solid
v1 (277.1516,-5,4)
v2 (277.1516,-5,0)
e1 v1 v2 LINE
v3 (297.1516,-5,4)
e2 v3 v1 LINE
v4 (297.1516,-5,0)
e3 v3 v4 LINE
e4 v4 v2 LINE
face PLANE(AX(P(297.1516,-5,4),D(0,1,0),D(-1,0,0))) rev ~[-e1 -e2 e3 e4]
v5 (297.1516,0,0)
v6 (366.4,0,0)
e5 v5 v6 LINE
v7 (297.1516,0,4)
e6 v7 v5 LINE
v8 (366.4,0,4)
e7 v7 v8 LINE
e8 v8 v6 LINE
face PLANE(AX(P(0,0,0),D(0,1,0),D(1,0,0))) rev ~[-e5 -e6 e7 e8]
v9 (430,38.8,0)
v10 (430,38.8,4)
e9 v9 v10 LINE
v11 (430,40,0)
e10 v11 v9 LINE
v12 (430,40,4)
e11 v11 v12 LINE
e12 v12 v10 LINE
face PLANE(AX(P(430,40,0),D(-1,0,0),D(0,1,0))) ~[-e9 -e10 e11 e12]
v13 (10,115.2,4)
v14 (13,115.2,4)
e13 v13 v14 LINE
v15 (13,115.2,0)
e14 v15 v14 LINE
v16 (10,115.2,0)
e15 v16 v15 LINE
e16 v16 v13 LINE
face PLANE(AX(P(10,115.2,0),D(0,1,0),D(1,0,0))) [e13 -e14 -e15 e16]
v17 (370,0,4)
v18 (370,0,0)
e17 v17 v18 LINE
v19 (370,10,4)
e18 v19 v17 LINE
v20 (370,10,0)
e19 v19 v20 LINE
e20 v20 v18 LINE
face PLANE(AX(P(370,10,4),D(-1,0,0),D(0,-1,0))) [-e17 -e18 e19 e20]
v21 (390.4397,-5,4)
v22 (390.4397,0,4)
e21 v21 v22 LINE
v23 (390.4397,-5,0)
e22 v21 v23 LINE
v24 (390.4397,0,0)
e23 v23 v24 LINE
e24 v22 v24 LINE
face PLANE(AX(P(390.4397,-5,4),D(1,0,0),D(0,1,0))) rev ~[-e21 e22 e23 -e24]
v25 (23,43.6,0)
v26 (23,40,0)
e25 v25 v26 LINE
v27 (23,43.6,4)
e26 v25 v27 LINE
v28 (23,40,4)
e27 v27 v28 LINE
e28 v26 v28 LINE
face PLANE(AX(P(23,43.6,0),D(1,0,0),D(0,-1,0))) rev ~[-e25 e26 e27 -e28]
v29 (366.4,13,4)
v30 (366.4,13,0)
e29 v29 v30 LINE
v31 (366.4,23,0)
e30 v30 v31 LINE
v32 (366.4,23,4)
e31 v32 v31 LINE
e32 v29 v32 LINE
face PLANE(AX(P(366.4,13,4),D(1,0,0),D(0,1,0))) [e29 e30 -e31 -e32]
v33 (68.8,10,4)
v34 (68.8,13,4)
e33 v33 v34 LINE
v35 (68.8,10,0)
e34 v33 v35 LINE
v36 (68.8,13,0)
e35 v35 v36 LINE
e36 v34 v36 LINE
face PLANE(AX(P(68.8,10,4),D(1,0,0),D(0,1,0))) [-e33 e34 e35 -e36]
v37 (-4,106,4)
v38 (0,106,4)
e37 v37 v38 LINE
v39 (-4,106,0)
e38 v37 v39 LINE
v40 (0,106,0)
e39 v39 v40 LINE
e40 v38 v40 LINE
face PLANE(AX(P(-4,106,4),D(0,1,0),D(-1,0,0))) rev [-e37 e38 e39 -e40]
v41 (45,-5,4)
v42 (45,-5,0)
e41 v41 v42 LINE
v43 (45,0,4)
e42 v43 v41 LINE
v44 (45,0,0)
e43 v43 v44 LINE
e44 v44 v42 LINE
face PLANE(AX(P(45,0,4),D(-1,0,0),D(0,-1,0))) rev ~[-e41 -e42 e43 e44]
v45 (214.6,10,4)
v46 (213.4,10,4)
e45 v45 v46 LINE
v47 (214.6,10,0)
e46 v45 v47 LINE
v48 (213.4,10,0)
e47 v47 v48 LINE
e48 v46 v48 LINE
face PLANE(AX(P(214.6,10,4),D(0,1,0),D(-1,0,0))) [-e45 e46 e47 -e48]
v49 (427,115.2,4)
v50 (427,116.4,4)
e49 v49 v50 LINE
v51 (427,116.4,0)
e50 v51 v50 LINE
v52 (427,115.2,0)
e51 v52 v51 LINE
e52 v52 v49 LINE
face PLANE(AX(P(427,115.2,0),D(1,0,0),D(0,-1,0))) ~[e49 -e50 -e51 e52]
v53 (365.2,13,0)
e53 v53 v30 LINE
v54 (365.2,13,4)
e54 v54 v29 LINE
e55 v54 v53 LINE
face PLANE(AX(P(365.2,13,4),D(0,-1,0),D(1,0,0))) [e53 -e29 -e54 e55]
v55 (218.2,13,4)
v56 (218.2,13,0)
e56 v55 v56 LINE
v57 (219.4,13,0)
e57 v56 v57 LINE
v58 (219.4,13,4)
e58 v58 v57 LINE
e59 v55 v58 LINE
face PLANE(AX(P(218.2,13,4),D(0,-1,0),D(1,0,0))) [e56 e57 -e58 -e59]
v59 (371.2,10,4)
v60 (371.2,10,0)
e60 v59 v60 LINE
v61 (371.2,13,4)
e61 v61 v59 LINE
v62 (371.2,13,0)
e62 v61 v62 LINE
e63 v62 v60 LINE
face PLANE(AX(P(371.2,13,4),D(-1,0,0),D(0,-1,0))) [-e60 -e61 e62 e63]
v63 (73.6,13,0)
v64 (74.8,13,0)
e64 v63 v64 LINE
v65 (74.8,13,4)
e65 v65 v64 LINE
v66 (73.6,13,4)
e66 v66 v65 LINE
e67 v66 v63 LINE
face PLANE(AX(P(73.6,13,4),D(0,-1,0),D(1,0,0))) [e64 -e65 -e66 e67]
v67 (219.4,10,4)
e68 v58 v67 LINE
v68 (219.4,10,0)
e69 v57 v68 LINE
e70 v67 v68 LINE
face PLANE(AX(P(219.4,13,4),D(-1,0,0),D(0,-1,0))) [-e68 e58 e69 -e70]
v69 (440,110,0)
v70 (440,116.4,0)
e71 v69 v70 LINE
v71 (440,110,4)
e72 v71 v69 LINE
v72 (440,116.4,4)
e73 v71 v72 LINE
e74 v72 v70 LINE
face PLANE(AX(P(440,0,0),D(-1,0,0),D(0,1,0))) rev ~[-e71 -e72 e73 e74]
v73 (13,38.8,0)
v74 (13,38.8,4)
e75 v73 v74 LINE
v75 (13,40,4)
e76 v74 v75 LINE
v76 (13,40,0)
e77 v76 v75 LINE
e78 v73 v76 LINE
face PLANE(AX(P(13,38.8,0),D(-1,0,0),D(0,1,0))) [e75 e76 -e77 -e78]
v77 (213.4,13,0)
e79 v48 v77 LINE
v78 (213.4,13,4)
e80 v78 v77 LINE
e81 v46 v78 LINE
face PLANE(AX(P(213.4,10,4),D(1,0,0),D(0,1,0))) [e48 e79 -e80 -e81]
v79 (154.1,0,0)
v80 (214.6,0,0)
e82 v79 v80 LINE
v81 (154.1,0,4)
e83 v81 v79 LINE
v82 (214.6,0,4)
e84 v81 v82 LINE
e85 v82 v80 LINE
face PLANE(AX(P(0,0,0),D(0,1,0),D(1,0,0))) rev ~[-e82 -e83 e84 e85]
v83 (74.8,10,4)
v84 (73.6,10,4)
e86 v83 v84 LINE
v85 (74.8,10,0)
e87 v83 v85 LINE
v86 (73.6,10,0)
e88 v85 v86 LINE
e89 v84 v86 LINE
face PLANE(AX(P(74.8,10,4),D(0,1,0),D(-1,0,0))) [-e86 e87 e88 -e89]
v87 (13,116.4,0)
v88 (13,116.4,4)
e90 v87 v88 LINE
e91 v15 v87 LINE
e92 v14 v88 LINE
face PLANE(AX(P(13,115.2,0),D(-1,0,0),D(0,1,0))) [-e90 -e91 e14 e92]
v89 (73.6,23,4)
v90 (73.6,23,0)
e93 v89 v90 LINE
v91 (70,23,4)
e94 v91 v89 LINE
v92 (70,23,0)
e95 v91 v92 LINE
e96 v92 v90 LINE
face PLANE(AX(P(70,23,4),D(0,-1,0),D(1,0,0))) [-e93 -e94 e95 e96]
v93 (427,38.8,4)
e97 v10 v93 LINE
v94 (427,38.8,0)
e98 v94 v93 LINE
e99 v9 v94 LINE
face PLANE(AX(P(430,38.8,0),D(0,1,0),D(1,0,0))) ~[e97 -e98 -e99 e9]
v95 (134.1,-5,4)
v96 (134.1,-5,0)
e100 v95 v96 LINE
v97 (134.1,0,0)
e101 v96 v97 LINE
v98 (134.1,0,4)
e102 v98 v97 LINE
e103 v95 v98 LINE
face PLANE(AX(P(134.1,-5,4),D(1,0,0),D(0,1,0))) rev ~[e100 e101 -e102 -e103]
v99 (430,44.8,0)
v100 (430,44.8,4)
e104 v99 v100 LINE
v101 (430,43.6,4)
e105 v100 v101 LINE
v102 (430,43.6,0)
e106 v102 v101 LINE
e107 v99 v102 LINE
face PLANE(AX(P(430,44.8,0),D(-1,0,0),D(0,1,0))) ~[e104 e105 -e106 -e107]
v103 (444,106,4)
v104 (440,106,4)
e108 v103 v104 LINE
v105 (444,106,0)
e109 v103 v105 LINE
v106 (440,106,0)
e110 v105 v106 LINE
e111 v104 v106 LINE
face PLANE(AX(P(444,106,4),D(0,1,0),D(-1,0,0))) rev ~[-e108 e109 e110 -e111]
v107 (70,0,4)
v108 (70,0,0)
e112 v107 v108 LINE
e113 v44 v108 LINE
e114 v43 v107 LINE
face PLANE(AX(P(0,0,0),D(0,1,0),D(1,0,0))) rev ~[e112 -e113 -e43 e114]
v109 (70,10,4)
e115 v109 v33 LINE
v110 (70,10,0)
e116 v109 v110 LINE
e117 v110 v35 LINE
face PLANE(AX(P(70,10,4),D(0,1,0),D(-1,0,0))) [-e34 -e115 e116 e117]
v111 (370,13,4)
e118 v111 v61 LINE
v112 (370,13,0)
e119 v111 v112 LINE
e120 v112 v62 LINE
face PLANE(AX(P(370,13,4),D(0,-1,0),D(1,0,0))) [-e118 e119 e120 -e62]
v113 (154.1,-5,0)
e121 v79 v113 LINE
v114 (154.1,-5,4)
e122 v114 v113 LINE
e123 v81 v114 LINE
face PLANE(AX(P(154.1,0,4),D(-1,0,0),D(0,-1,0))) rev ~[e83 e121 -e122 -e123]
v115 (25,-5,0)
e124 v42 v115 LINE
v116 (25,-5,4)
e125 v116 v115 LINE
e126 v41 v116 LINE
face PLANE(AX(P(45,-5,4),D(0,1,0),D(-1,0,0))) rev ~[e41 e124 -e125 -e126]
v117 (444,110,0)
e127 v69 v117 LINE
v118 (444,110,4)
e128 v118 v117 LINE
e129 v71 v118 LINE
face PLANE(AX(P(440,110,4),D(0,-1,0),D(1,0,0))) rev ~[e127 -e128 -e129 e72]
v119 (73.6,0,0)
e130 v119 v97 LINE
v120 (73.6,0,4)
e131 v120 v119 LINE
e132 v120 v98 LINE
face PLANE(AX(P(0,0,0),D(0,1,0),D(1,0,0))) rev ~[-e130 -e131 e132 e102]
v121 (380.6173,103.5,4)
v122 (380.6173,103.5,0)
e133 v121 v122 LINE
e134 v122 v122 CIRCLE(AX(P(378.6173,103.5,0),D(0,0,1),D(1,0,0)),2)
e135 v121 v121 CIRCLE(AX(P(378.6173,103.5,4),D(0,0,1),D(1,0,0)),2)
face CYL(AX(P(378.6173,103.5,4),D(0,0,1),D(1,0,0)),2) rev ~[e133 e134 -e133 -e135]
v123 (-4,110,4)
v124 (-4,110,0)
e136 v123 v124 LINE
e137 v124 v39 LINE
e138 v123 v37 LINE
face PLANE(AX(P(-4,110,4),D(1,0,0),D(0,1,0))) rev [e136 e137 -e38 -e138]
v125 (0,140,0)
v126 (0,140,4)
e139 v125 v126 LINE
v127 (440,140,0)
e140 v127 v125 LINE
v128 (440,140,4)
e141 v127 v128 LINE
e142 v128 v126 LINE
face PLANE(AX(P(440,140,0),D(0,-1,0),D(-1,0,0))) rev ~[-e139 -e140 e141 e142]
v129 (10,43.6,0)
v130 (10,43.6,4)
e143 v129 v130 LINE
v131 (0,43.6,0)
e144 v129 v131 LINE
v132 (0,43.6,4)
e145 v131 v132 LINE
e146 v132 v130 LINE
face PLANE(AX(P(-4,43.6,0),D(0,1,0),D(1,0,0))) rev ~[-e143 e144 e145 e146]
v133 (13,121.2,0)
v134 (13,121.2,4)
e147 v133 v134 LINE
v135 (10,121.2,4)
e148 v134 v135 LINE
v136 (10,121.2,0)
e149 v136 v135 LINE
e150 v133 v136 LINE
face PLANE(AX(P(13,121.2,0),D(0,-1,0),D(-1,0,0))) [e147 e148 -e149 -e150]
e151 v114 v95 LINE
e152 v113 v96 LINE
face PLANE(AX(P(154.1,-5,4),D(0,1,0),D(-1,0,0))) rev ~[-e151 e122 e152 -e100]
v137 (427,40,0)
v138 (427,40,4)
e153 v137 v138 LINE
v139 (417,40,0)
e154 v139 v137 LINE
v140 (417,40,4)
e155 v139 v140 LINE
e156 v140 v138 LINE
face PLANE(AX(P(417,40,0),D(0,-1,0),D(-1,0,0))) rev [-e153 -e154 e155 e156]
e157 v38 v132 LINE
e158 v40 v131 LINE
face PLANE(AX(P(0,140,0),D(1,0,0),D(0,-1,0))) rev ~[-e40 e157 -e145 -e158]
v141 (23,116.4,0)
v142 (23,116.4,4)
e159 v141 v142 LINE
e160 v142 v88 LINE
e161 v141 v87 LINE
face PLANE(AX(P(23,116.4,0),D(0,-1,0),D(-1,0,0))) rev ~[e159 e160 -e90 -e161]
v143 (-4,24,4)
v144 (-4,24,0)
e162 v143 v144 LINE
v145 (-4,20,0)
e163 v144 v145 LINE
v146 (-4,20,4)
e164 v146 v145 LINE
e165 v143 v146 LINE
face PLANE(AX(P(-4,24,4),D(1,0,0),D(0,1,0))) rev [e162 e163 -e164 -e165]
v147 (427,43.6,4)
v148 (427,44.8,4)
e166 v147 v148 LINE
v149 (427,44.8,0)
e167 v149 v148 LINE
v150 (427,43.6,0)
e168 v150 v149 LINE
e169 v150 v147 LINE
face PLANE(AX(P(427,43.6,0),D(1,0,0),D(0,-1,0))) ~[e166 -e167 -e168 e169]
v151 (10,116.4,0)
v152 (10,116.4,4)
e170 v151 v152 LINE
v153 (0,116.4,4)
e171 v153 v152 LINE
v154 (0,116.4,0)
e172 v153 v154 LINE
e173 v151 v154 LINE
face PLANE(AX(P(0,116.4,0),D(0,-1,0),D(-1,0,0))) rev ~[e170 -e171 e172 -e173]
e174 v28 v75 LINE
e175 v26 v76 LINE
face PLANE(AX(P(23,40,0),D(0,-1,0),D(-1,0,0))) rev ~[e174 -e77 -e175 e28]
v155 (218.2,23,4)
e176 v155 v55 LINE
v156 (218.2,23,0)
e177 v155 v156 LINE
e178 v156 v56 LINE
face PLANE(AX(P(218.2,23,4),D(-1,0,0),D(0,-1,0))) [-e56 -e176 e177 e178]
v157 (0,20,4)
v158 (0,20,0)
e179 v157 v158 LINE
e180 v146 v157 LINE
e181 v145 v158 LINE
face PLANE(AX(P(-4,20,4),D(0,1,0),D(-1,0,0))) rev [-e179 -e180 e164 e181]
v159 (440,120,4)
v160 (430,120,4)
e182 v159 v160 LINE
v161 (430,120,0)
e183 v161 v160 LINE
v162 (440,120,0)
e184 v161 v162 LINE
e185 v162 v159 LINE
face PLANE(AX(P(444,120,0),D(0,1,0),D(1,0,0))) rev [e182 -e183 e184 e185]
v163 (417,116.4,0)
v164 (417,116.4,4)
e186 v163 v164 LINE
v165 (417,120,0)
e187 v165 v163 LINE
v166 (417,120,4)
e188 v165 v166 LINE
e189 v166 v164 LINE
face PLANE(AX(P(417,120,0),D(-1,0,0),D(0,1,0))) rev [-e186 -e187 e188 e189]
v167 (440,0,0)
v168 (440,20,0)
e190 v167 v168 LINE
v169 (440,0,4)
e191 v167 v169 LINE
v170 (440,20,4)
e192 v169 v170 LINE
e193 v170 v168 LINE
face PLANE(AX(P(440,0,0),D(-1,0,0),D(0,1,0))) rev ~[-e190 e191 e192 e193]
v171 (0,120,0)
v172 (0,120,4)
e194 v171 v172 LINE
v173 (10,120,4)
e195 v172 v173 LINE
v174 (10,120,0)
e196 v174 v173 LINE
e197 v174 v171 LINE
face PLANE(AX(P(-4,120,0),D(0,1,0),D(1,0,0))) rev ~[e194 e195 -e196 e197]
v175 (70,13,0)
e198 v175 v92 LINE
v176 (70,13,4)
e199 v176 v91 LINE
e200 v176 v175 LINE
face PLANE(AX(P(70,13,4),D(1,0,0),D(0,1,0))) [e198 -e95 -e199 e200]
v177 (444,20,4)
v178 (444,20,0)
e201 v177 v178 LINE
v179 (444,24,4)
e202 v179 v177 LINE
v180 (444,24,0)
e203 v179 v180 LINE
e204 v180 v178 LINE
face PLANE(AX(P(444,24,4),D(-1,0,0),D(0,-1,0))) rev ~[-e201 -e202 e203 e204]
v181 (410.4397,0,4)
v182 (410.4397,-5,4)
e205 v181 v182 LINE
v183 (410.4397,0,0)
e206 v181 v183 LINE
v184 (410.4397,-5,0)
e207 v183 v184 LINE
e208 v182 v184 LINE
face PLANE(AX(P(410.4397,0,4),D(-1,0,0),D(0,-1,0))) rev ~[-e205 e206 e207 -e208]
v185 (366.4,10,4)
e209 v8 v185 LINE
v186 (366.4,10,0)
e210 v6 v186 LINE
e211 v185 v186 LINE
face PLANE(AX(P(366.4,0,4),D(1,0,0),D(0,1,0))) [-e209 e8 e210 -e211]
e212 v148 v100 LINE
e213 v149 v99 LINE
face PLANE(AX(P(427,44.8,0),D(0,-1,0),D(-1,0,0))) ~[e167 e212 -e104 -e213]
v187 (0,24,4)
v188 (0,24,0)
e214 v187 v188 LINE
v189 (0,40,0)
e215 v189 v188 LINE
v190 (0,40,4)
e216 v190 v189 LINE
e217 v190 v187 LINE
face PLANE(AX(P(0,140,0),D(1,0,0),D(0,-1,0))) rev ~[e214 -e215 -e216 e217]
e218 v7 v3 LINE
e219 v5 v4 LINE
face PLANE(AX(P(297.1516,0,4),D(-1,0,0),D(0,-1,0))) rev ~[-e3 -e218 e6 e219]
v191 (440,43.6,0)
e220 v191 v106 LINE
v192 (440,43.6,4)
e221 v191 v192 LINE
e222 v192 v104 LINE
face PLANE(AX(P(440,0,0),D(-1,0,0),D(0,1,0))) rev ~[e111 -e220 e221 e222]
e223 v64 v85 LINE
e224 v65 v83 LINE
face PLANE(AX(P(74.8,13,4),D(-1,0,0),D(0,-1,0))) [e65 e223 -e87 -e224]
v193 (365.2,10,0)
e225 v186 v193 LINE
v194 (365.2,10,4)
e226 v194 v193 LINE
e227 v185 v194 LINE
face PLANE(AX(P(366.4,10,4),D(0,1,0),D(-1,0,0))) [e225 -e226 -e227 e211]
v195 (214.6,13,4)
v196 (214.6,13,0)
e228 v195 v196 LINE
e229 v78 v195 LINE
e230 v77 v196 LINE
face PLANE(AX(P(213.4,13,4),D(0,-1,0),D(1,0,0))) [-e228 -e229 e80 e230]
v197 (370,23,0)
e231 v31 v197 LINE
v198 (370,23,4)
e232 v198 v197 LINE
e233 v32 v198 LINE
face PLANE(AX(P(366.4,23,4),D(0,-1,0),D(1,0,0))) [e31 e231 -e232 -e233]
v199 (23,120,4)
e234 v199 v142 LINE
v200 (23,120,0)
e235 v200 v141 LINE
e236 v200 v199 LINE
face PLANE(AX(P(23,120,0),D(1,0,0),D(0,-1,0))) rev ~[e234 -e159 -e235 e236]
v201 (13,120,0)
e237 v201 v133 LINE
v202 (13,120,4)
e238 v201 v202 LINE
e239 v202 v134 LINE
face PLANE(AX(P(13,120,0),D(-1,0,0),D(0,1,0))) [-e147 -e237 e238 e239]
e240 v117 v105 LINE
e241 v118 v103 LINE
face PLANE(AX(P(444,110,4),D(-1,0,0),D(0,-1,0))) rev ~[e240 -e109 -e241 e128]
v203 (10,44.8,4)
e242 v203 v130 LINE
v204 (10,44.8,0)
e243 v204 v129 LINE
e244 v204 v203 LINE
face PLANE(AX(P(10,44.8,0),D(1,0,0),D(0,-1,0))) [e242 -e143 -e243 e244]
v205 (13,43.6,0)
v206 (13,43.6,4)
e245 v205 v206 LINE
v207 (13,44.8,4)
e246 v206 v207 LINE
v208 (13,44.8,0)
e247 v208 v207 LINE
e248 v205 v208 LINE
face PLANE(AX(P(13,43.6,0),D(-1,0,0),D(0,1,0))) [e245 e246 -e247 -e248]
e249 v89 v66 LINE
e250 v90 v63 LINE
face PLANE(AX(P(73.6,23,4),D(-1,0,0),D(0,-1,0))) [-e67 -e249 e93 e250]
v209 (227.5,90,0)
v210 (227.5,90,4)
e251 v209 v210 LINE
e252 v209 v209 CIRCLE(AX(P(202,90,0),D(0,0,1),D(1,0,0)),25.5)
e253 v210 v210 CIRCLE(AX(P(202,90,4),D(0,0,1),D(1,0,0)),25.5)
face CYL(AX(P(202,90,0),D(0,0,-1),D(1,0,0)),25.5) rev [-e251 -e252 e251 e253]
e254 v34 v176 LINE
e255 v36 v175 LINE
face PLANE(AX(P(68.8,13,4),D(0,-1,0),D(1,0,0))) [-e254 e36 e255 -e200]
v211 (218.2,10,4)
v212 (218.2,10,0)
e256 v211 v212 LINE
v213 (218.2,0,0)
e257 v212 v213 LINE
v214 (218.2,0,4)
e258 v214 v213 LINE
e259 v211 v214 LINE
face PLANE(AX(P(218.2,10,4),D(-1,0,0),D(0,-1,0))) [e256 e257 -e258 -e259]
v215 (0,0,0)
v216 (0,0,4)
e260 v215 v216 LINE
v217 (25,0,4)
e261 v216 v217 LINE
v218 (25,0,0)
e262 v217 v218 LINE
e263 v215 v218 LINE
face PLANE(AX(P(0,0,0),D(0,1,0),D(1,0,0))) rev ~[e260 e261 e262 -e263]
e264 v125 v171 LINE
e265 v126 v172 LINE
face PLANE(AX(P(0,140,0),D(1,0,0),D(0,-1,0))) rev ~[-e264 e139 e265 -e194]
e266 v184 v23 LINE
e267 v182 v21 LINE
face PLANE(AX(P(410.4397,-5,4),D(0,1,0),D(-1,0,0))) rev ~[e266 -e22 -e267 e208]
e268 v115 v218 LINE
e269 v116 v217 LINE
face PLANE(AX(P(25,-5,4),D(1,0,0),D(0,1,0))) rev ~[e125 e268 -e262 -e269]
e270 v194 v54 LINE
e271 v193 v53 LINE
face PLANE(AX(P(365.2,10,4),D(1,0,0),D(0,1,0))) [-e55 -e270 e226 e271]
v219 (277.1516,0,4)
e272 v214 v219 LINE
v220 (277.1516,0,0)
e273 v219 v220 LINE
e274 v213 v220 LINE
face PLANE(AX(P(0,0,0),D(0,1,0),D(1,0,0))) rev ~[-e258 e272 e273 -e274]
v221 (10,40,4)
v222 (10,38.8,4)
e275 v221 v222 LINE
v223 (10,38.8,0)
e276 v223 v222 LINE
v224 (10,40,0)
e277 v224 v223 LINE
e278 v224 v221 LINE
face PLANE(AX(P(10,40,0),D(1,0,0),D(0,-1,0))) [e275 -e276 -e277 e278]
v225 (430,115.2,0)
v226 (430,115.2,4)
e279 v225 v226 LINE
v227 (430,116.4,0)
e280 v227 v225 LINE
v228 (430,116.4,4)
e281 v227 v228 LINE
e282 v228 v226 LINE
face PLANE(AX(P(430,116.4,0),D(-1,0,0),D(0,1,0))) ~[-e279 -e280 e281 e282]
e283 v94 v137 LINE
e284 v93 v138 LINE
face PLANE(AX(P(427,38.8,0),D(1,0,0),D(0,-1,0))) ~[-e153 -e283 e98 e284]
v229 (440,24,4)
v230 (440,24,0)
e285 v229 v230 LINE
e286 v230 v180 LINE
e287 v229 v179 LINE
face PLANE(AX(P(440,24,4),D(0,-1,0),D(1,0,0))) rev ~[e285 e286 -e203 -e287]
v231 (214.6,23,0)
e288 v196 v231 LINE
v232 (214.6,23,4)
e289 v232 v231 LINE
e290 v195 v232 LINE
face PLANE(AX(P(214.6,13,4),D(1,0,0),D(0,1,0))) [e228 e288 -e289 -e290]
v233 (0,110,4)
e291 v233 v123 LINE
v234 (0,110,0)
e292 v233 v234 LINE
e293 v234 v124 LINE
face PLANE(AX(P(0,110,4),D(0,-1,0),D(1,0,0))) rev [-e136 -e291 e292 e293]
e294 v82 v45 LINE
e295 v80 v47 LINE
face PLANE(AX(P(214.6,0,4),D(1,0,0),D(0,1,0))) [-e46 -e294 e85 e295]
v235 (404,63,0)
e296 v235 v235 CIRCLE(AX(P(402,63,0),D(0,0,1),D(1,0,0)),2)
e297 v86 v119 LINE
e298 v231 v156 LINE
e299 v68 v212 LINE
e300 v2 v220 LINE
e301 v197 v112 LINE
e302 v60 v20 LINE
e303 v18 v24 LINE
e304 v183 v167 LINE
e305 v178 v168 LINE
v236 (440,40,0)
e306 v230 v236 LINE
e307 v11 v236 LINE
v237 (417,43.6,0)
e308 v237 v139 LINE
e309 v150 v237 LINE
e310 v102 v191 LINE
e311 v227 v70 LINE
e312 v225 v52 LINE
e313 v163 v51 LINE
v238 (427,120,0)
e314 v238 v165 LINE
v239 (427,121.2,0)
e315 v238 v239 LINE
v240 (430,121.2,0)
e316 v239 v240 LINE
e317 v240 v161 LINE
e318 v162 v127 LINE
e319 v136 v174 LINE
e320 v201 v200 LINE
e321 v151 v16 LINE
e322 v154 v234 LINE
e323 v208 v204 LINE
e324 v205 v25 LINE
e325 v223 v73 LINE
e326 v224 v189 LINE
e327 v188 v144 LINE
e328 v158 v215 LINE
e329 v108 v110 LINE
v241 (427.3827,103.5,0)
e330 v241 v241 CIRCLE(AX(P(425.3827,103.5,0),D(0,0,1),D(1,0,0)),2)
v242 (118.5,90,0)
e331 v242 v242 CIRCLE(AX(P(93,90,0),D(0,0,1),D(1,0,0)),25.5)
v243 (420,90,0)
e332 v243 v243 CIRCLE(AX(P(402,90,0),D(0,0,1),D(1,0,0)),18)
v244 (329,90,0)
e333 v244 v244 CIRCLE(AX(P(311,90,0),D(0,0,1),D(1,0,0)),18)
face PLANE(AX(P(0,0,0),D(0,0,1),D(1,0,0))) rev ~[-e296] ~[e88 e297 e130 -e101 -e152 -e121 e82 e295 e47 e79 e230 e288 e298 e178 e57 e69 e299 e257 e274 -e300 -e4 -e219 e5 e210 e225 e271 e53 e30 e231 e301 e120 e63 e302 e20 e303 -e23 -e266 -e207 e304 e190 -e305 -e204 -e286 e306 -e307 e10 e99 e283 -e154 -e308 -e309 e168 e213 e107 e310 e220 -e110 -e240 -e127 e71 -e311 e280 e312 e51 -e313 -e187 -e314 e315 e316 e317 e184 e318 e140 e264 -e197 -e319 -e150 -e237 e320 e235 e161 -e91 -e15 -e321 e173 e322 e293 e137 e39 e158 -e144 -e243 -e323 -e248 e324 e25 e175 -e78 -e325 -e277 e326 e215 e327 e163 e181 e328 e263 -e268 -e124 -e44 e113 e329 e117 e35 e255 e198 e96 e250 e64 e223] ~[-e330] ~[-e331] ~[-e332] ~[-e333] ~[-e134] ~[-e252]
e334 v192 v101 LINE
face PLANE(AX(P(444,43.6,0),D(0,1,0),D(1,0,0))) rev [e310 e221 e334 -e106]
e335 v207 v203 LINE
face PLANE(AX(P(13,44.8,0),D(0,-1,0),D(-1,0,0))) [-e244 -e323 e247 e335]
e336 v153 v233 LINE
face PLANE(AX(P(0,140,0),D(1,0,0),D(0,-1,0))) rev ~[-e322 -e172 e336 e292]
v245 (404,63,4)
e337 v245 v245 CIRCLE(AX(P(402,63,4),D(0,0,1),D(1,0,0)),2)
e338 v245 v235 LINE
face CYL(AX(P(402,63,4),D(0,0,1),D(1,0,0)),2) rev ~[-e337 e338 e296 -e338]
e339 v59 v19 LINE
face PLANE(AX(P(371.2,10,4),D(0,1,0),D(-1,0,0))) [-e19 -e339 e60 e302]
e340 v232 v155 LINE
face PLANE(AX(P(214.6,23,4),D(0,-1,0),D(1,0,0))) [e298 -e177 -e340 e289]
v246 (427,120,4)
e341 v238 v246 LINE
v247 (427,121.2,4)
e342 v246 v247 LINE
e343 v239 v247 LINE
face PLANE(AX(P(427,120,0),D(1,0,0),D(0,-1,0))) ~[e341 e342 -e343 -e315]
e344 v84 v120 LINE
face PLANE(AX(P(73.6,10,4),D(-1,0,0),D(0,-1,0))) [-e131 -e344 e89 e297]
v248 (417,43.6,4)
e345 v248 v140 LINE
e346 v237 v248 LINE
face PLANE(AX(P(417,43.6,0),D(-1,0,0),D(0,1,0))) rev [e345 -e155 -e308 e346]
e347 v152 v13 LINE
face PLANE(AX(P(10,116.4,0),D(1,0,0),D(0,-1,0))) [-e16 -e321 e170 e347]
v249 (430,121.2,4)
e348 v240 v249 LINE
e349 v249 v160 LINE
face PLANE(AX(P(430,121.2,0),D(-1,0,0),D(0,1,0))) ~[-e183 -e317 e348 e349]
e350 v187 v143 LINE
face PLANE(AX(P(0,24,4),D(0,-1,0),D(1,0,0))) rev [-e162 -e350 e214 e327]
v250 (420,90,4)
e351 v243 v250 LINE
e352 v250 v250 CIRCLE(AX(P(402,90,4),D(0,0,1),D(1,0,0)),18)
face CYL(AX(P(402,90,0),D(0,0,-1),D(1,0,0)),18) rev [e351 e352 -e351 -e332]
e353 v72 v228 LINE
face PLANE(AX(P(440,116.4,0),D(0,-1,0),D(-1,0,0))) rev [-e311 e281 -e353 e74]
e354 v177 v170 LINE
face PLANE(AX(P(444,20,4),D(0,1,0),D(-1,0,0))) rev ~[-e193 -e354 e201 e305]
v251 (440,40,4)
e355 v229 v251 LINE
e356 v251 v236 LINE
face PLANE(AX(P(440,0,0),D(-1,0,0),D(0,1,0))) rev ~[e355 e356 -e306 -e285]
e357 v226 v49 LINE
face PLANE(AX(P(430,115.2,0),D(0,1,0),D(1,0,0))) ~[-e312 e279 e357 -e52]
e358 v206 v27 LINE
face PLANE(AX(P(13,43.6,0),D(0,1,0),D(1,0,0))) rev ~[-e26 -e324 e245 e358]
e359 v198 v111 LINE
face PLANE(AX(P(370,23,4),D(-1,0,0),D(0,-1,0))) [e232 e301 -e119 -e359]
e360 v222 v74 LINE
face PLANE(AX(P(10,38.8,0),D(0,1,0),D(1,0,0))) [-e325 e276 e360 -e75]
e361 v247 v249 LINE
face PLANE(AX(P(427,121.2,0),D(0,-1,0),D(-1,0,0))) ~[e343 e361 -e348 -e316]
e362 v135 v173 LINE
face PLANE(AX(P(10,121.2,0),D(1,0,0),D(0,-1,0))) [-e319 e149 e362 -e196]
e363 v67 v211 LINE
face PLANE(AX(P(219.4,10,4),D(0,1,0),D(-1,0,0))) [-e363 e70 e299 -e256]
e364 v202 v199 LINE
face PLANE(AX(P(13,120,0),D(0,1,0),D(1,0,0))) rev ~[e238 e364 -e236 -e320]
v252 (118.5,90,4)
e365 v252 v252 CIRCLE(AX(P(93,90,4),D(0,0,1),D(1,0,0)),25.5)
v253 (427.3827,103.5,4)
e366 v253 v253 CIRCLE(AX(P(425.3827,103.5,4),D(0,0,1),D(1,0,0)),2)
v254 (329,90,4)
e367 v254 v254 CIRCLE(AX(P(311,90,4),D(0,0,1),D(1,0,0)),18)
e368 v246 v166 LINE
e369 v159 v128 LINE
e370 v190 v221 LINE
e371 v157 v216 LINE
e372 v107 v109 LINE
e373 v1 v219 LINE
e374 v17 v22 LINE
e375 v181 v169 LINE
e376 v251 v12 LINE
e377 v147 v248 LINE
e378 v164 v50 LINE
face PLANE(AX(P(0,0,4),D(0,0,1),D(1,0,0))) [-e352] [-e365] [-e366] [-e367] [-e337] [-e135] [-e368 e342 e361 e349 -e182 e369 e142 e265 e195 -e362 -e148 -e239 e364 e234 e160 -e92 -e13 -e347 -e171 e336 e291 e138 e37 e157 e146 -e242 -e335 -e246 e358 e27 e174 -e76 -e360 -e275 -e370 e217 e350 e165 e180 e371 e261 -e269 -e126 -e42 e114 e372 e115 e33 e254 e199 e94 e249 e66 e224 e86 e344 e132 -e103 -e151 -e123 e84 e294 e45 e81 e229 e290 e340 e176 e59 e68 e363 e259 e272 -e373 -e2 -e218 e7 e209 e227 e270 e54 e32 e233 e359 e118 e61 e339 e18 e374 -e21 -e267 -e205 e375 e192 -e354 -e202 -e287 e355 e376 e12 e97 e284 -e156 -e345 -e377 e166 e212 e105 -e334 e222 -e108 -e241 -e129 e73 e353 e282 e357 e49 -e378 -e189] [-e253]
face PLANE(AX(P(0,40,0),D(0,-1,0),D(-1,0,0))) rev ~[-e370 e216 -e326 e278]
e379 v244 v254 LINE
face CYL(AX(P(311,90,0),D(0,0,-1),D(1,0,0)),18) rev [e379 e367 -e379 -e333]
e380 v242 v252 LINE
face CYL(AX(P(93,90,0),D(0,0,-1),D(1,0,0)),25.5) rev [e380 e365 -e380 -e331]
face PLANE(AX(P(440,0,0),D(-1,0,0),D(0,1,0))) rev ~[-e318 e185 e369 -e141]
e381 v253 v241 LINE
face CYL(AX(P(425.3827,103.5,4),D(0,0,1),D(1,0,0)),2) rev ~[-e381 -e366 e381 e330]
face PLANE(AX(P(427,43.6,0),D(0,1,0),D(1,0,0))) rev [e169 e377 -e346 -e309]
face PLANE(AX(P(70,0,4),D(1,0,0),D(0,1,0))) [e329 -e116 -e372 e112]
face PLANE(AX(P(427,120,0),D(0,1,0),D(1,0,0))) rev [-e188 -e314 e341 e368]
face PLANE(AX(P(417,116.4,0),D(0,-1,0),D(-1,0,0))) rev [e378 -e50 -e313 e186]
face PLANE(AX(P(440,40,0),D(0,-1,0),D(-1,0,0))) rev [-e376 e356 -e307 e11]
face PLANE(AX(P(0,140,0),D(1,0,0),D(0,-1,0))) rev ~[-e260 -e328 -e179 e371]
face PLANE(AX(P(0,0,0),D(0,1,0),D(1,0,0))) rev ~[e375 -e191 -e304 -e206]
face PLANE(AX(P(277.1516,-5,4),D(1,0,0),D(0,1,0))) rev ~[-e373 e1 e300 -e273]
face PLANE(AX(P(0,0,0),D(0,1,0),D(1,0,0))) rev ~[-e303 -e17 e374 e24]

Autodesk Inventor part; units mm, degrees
sketch "Sketch1" plane through (0, 0, 0) normal (0, 0, 1) x (1, 0, 0)
  line L0 (440, 140) -> (0, 140)
  line L1 (0, 140) -> (0, 0)
  line L2 (0, 0) -> (440, 0)
  line L3 (440, 0) -> (440, 140)
  circle A0 centre (402, 90) radius 18
  circle A1 centre (311, 90) radius 18
  circle A2 centre (202, 90) radius 25.5
  circle A3 centre (93, 90) radius 25.5
  point P0 (0, 0)
extrude "Extrusion1" add sketch "Sketch1" along normal blind 4
sketch "Sketch2" plane through (0, 0, 0) normal (0, 0, -1) x (-1, 0, 0)
  circle A0 centre (-93, 90) radius 25.5 projected
  circle A1 centre (-202, 90) radius 25.5 projected
  circle A2 centre (-311, 90) radius 18 projected
  circle A3 centre (-402, 90) radius 18 projected
  line L0 (-440, 140) -> (0, 140) projected
  line L1 (0, 140) -> (0, 0) projected
  line L2 (0, 0) -> (-440, 0) projected
  line L3 (-440, 0) -> (-440, 140) projected
  line L4 (0, 140) -> (4, 140)
  line L5 (4, 7.7) -> (0, 7.7)
  line L6 (4, 120) -> (-23, 120)
  line L7 (-23, 120) -> (-23, 116.4)
  line L8 (-23, 116.4) -> (4, 116.4)
  line L9 (4, 116.4) -> (4, 120)
  line L10 (-10, 115.2) -> (-13, 115.2)
  line L11 (-13, 115.2) -> (-13, 121.2)
  line L12 (-13, 121.2) -> (-10, 121.2)
  line L13 (-10, 121.2) -> (-10, 115.2)
  line L14 (-10, 115.2) -> (-13, 121.2) construction
  line L15 (-13, 115.2) -> (-10, 121.2) construction
  line L16 (4, 43.6) -> (-23, 43.6)
  line L17 (-23, 43.6) -> (-23, 40)
  line L18 (-23, 40) -> (4, 40)
  line L19 (4, 40) -> (4, 43.6)
  line L20 (-10, 38.8) -> (-13, 38.8)
  line L21 (-13, 38.8) -> (-13, 44.8)
  line L22 (-13, 44.8) -> (-10, 44.8)
  line L23 (-10, 44.8) -> (-10, 38.8)
  line L24 (-10, 38.8) -> (-13, 44.8) construction
  line L25 (-13, 38.8) -> (-10, 44.8) construction
  line L26 (4, 140) -> (4, 116.4)
  line L27 (4, 43.6) -> (4, 40)
  line L28 (0, 7.7) -> (0, 40)
  point P0 (-11.5, 118.2)
  point P1 (-11.5, 41.8)
  point P2 (0, 116.4)
  point P3 (0, 43.6)
  dimension "d2" = 4
  dimension "d3" = 27
  dimension "d4" = 3.6
  dimension "d5" = 3
  dimension "d6" = 6
  dimension "d7" = 10
  dimension "d8" = 140
  dimension "d9" = 20
  dimension "d15" = 27
  dimension "d17" = 3
  dimension "d18" = 6
  dimension "d22" = 40
  dimension "d23" = 3.6
ref_plane "Work Plane2" through (220, 0, 0) normal (1, 0, 0) x (0, 0, -1)
extrude "Extrusion3" cut sketch "Sketch2" against normal blind 4 contours L6 L9 L8 L1 | L1 L8 L13 L6 | L13 L8 L11 L6 | L6 L11 L12 L13 | L16 L19 L18 L1 | L1 L18 L23 L16 | L13 L10 L11 L8 | L11 L8 L7 L6 | L23 L18 L21 L16 | L16 L21 L22 L23 | L23 L20 L21 L18 | L21 L18 L17 L16
ref_plane "Work Plane3" through (220, 140, 0) normal (-1, 0, 0) x (0, 0, 1)
mirror "Mirror2" about plane through (220, 140, 0) normal (-1, 0, 0) of "Extrusion3"
sketch "Sketch3" plane through (0, 0, 4) normal (0, 0, 1) x (1, 0, 0)
  line L0 (440, 140) -> (0, 140) projected
  line L1 (430, 43.6) -> (440, 43.6) projected
  line L2 (440, 43.6) -> (440, 116.4) projected
  line L3 (440, 116.4) -> (430, 116.4) projected
  line L4 (430, 116.4) -> (430, 115.2) projected
  line L5 (430, 115.2) -> (427, 115.2) projected
  line L6 (427, 115.2) -> (427, 116.4) projected
  line L7 (427, 116.4) -> (417, 116.4) projected
  line L8 (417, 116.4) -> (417, 120) projected
  line L9 (417, 120) -> (427, 120) projected
  line L10 (427, 120) -> (427, 121.2) projected
  line L11 (427, 121.2) -> (430, 121.2) projected
  line L12 (430, 121.2) -> (430, 120) projected
  line L13 (430, 120) -> (440, 120) projected
  line L14 (440, 120) -> (440, 140) projected
  line L15 (440, 140) -> (0, 140) projected
  line L16 (0, 140) -> (0, 120) projected
  line L17 (0, 120) -> (10, 120) projected
  line L18 (10, 120) -> (10, 121.2) projected
  line L19 (10, 121.2) -> (13, 121.2) projected
  line L20 (13, 121.2) -> (13, 120) projected
  line L21 (13, 120) -> (23, 120) projected
  line L22 (23, 120) -> (23, 116.4) projected
  line L23 (23, 116.4) -> (13, 116.4) projected
  line L24 (13, 116.4) -> (13, 115.2) projected
  line L25 (13, 115.2) -> (10, 115.2) projected
  line L26 (10, 115.2) -> (10, 116.4) projected
  line L27 (10, 116.4) -> (0, 116.4) projected
  line L28 (0, 116.4) -> (0, 43.6) projected
  line L29 (0, 43.6) -> (10, 43.6) projected
  line L30 (10, 43.6) -> (10, 44.8) projected
  line L31 (10, 44.8) -> (13, 44.8) projected
  line L32 (13, 44.8) -> (13, 43.6) projected
  line L33 (13, 43.6) -> (23, 43.6) projected
  line L34 (23, 43.6) -> (23, 40) projected
  line L35 (23, 40) -> (13, 40) projected
  line L36 (13, 40) -> (13, 38.8) projected
  line L37 (13, 38.8) -> (10, 38.8) projected
  line L38 (10, 38.8) -> (10, 40) projected
  line L39 (10, 40) -> (0, 40) projected
  line L40 (0, 40) -> (0, 0) projected
  line L41 (0, 0) -> (440, 0) projected
  line L42 (440, 0) -> (440, 40) projected
  line L43 (440, 40) -> (430, 40) projected
  line L44 (430, 40) -> (430, 38.8) projected
  line L45 (430, 38.8) -> (427, 38.8) projected
  line L46 (427, 38.8) -> (427, 40) projected
  line L47 (427, 40) -> (417, 40) projected
  line L48 (417, 40) -> (417, 43.6) projected
  line L49 (417, 43.6) -> (427, 43.6) projected
  line L50 (427, 43.6) -> (427, 44.8) projected
  line L51 (427, 44.8) -> (430, 44.8) projected
  line L52 (430, 44.8) -> (430, 43.6) projected
  circle A0 centre (93, 90) radius 25.5 projected
  circle A1 centre (202, 90) radius 25.5 projected
  circle A2 centre (311, 90) radius 18 projected
  circle A3 centre (402, 90) radius 18 projected
  line L53 (440, 110) -> (444, 110)
  line L54 (444, 110) -> (444, 106)
  line L55 (444, 106) -> (440, 106)
  line L56 (440, 106) -> (440, 110)
  line L57 (440, 24) -> (444, 24)
  line L58 (444, 24) -> (444, 20)
  line L59 (444, 20) -> (440, 20)
  line L60 (440, 20) -> (440, 24)
  point P0 (0, 0)
  dimension "d26" = 4
  dimension "d27" = 4
  dimension "d28" = 4
  dimension "d29" = 4
  dimension "d30" = 20
  dimension "d31" = 30
extrude "Extrusion4" add sketch "Sketch3" against normal blind 4 contours L53 L54 L55 L2 | L57 L58 L59 L42
ref_plane "Work Plane4" through (220, 43.6, 4) normal (1, 0, 0) x (0, 0, -1)
mirror "Mirror3" about plane through (220, 43.6, 4) normal (1, 0, 0) of "Extrusion4"
sketch "Sketch4" plane through (0, 0, 4) normal (0, 0, 1) x (1, 0, 0)
  line L0 (430, 43.6) -> (440, 43.6) projected
  line L1 (440, 43.6) -> (440, 106) projected
  line L2 (440, 106) -> (444, 106) projected
  line L3 (444, 106) -> (444, 110) projected
  line L4 (444, 110) -> (440, 110) projected
  line L5 (440, 110) -> (440, 116.4) projected
  line L6 (440, 116.4) -> (430, 116.4) projected
  line L7 (430, 116.4) -> (430, 115.2) projected
  line L8 (430, 115.2) -> (427, 115.2) projected
  line L9 (427, 115.2) -> (427, 116.4) projected
  line L10 (427, 116.4) -> (417, 116.4) projected
  line L11 (417, 116.4) -> (417, 120) projected
  line L12 (417, 120) -> (427, 120) projected
  line L13 (427, 120) -> (427, 121.2) projected
  line L14 (427, 121.2) -> (430, 121.2) projected
  line L15 (430, 121.2) -> (430, 120) projected
  line L16 (430, 120) -> (440, 120) projected
  line L17 (440, 120) -> (440, 140) projected
  line L18 (440, 140) -> (0, 140) projected
  line L19 (0, 140) -> (0, 120) projected
  line L20 (0, 120) -> (10, 120) projected
  line L21 (10, 120) -> (10, 121.2) projected
  line L22 (10, 121.2) -> (13, 121.2) projected
  line L23 (13, 121.2) -> (13, 120) projected
  line L24 (13, 120) -> (23, 120) projected
  line L25 (23, 120) -> (23, 116.4) projected
  line L26 (23, 116.4) -> (13, 116.4) projected
  line L27 (13, 116.4) -> (13, 115.2) projected
  line L28 (13, 115.2) -> (10, 115.2) projected
  line L29 (10, 115.2) -> (10, 116.4) projected
  line L30 (10, 116.4) -> (0, 116.4) projected
  line L31 (0, 116.4) -> (0, 110) projected
  line L32 (-4, 110) -> (0, 110) projected
  line L33 (-4, 106) -> (-4, 110) projected
  line L34 (0, 106) -> (-4, 106) projected
  line L35 (0, 106) -> (0, 43.6) projected
  line L36 (0, 43.6) -> (10, 43.6) projected
  line L37 (10, 43.6) -> (10, 44.8) projected
  line L38 (10, 44.8) -> (13, 44.8) projected
  line L39 (13, 44.8) -> (13, 43.6) projected
  line L40 (13, 43.6) -> (23, 43.6) projected
  line L41 (23, 43.6) -> (23, 40) projected
  line L42 (23, 40) -> (13, 40) projected
  line L43 (13, 40) -> (13, 38.8) projected
  line L44 (13, 38.8) -> (10, 38.8) projected
  line L45 (10, 38.8) -> (10, 40) projected
  line L46 (10, 40) -> (0, 40) projected
  line L47 (0, 40) -> (0, 24) projected
  line L48 (-4, 24) -> (0, 24) projected
  line L49 (-4, 20) -> (-4, 24) projected
  line L50 (0, 20) -> (-4, 20) projected
  line L51 (0, 20) -> (0, 0) projected
  line L52 (0, 0) -> (440, 0) projected
  line L53 (440, 0) -> (440, 20) projected
  line L54 (440, 20) -> (444, 20) projected
  line L55 (444, 20) -> (444, 24) projected
  line L56 (444, 24) -> (440, 24) projected
  line L57 (440, 24) -> (440, 40) projected
  line L58 (440, 40) -> (430, 40) projected
  line L59 (430, 40) -> (430, 38.8) projected
  line L60 (430, 38.8) -> (427, 38.8) projected
  line L61 (427, 38.8) -> (427, 40) projected
  line L62 (427, 40) -> (417, 40) projected
  line L63 (417, 40) -> (417, 43.6) projected
  line L64 (417, 43.6) -> (427, 43.6) projected
  line L65 (427, 43.6) -> (427, 44.8) projected
  line L66 (427, 44.8) -> (430, 44.8) projected
  line L67 (430, 44.8) -> (430, 43.6) projected
  circle A0 centre (93, 90) radius 25.5 projected
  circle A1 centre (202, 90) radius 25.5 projected
  circle A2 centre (311, 90) radius 18 projected
  circle A3 centre (402, 90) radius 18 projected
  line L68 (0, 43.6) -> (10, 43.6) projected
  line L69 (0, 43.6) -> (10, 43.6)
  line L70 (10, 44.8) -> (13, 44.8) projected
  line L71 (10, 43.6) -> (10, 44.8)
  line L72 (10, 44.8) -> (13, 44.8)
  line L73 (13, 43.6) -> (13, 44.8) projected
  line L74 (13, 44.8) -> (13, 43.6)
  line L75 (13, 43.6) -> (23, 43.6)
  line L76 (23, 40) -> (13, 40)
  line L77 (13, 38.8) -> (10, 38.8) projected
  line L78 (13, 38.8) -> (10, 38.8)
  line L79 (10, 40) -> (10, 38.8) projected
  line L80 (10, 38.8) -> (10, 40)
  line L81 (0, 40) -> (10, 40) projected
  line L82 (10, 40) -> (0, 40)
  line L83 (0, 40) -> (0, 43.6)
  line L84 (13, 43.6) -> (23, 43.6) projected
  line L85 (23, 43.6) -> (23, 40) projected
  line L86 (23, 43.6) -> (23, 40)
  line L87 (13, 40) -> (13, 38.8) projected
  line L88 (13, 40) -> (13, 38.8)
  line L89 (70, 0) -> (70, 10)
  line L90 (70, 10) -> (68.8, 10)
  line L91 (68.8, 10) -> (68.8, 13)
  line L92 (68.8, 13) -> (70, 13)
  line L93 (70, 13) -> (70, 23)
  line L94 (73.6, 23) -> (73.6, 13)
  line L95 (74.8, 13) -> (74.8, 10)
  line L96 (74.8, 10) -> (73.6, 10)
  line L97 (73.6, 10) -> (73.6, 0)
  line L98 (73.6, 0) -> (70, 0)
  line L99 (70, 23) -> (73.6, 23)
  line L100 (73.6, 13) -> (74.8, 13)
  line L101 (0, 0) -> (440, 0) projected
  line L102 (366.4, 13) -> (366.4, 23)
  line L103 (365.2, 13) -> (366.4, 13)
  line L104 (366.4, 23) -> (370, 23)
  line L105 (370, 23) -> (370, 13)
  line L106 (370, 13) -> (371.2, 13)
  line L107 (366.4, 10) -> (365.2, 10)
  line L108 (365.2, 10) -> (365.2, 13)
  line L109 (371.2, 13) -> (371.2, 10)
  line L110 (371.2, 10) -> (370, 10)
  line L111 (366.4, 0) -> (366.4, 10)
  line L112 (370, 10) -> (370, 0)
  line L113 (370, 0) -> (366.4, 0)
  line L114 (214.6, 13) -> (214.6, 23)
  line L115 (213.4, 13) -> (214.6, 13)
  line L116 (214.6, 23) -> (218.2, 23)
  line L117 (218.2, 23) -> (218.2, 13)
  line L118 (218.2, 13) -> (219.4, 13)
  line L119 (214.6, 10) -> (213.4, 10)
  line L120 (213.4, 10) -> (213.4, 13)
  line L121 (219.4, 13) -> (219.4, 10)
  line L122 (219.4, 10) -> (218.2, 10)
  line L123 (214.6, 0) -> (214.6, 10)
  line L124 (218.2, 10) -> (218.2, 0)
  line L125 (218.2, 0) -> (214.6, 0)
  point P0 (76.7802, 0)
  point P1 (374.5646, 0)
  point P2 (209.3918, 0)
  dimension "d34" = 70
  dimension "d35" = 3.6
  dimension "d36" = 3.6
  dimension "d37" = 6
  dimension "d38" = 1.2
  dimension "d39" = 3
  dimension "d40" = 1.2
  dimension "d41" = 3.6
  dimension "d42" = 3.6
  dimension "d43" = 6
  dimension "d44" = 1.2
  dimension "d45" = 3
  dimension "d46" = 1.2
  dimension "d47" = 3.6
  dimension "d48" = 3.6
  dimension "d49" = 6
  dimension "d50" = 1.2
  dimension "d51" = 3
  dimension "d52" = 1.2
  dimension "d53" = 70
  dimension "d54" = 440
  dimension "d55" = 221.8
extrude "Extrusion5" cut sketch "Sketch4" against normal blind 10 contours L52 L111 L107 L108 L103 L102 L104 L105 L106 L109 L110 L112 | L52 L123 L119 L120 L115 L114 L116 L117 L118 L121 L122 L124 | L52 L89 L90 L91 L92 L93 L99 L94 L100 L95 L96 L97
sketch "Sketch5" plane through (0, 0, 4) normal (0, 0, 1) x (1, 0, 0)
  line L0 (0, 0) -> (70, 0) projected
  line L1 (25, 0) -> (45, 0)
  line L2 (45, 0) -> (45, -5)
  line L3 (45, -5) -> (25, -5)
  line L4 (25, -5) -> (25, 0)
  line L5 (73.6, 0) -> (214.6, 0) projected
  line L6 (134.1, 0) -> (154.1, 0)
  line L7 (154.1, 0) -> (154.1, -5)
  line L8 (154.1, -5) -> (134.1, -5)
  line L9 (134.1, -5) -> (134.1, 0)
  line L10 (218.2, 0) -> (366.4, 0) projected
  line L11 (277.1516, 0) -> (297.1516, 0)
  line L12 (297.1516, 0) -> (297.1516, -5)
  line L13 (297.1516, -5) -> (277.1516, -5)
  line L14 (277.1516, -5) -> (277.1516, 0)
  line L15 (370, 0) -> (440, 0) projected
  line L16 (390.4397, 0) -> (410.4397, 0)
  line L17 (410.4397, 0) -> (410.4397, -5)
  line L18 (410.4397, -5) -> (390.4397, -5)
  line L19 (390.4397, -5) -> (390.4397, 0)
  line L20 (0, 20) -> (0, 0) projected
  line L21 (73.6, 10) -> (73.6, 0) projected
  line L22 (214.6, 0) -> (214.6, 10) projected
  line L23 (366.4, 0) -> (366.4, 10) projected
  line L24 (218.2, 10) -> (218.2, 0) projected
  dimension "d58" = 20
  dimension "d59" = 5
  dimension "d60" = 20
  dimension "d61" = 5
  dimension "d62" = 20
  dimension "d63" = 5
  dimension "d64" = 20
  dimension "d65" = 5
  dimension "d66" = 25
  dimension "d67" = 60.5
  dimension "d68" = 141
  dimension "d69" = 148.2
extrude "Extrusion6" add sketch "Sketch5" against normal blind 4
sketch "Sketch6" plane through (0, 0, 4) normal (0, 0, 1) x (1, 0, 0)
  circle A0 centre (402, 90) radius 33
  circle A1 centre (402, 63) radius 2
  circle A2 centre (425.3827, 103.5) radius 2
  circle A3 centre (378.6173, 103.5) radius 2
  circle A4 centre (402, 90) radius 18 projected
  circle A5 centre (311, 90) radius 18 projected
  circle A6 centre (202, 90) radius 25.5 projected
  point P0 (0, 0)
  dimension "d74" = 4
  dimension "d75" = 27
  dimension "d76" = 360
extrude "Extrusion7" cut sketch "Sketch6" against normal up to next contours A1 | A2 | A3
properties part number "P2"
